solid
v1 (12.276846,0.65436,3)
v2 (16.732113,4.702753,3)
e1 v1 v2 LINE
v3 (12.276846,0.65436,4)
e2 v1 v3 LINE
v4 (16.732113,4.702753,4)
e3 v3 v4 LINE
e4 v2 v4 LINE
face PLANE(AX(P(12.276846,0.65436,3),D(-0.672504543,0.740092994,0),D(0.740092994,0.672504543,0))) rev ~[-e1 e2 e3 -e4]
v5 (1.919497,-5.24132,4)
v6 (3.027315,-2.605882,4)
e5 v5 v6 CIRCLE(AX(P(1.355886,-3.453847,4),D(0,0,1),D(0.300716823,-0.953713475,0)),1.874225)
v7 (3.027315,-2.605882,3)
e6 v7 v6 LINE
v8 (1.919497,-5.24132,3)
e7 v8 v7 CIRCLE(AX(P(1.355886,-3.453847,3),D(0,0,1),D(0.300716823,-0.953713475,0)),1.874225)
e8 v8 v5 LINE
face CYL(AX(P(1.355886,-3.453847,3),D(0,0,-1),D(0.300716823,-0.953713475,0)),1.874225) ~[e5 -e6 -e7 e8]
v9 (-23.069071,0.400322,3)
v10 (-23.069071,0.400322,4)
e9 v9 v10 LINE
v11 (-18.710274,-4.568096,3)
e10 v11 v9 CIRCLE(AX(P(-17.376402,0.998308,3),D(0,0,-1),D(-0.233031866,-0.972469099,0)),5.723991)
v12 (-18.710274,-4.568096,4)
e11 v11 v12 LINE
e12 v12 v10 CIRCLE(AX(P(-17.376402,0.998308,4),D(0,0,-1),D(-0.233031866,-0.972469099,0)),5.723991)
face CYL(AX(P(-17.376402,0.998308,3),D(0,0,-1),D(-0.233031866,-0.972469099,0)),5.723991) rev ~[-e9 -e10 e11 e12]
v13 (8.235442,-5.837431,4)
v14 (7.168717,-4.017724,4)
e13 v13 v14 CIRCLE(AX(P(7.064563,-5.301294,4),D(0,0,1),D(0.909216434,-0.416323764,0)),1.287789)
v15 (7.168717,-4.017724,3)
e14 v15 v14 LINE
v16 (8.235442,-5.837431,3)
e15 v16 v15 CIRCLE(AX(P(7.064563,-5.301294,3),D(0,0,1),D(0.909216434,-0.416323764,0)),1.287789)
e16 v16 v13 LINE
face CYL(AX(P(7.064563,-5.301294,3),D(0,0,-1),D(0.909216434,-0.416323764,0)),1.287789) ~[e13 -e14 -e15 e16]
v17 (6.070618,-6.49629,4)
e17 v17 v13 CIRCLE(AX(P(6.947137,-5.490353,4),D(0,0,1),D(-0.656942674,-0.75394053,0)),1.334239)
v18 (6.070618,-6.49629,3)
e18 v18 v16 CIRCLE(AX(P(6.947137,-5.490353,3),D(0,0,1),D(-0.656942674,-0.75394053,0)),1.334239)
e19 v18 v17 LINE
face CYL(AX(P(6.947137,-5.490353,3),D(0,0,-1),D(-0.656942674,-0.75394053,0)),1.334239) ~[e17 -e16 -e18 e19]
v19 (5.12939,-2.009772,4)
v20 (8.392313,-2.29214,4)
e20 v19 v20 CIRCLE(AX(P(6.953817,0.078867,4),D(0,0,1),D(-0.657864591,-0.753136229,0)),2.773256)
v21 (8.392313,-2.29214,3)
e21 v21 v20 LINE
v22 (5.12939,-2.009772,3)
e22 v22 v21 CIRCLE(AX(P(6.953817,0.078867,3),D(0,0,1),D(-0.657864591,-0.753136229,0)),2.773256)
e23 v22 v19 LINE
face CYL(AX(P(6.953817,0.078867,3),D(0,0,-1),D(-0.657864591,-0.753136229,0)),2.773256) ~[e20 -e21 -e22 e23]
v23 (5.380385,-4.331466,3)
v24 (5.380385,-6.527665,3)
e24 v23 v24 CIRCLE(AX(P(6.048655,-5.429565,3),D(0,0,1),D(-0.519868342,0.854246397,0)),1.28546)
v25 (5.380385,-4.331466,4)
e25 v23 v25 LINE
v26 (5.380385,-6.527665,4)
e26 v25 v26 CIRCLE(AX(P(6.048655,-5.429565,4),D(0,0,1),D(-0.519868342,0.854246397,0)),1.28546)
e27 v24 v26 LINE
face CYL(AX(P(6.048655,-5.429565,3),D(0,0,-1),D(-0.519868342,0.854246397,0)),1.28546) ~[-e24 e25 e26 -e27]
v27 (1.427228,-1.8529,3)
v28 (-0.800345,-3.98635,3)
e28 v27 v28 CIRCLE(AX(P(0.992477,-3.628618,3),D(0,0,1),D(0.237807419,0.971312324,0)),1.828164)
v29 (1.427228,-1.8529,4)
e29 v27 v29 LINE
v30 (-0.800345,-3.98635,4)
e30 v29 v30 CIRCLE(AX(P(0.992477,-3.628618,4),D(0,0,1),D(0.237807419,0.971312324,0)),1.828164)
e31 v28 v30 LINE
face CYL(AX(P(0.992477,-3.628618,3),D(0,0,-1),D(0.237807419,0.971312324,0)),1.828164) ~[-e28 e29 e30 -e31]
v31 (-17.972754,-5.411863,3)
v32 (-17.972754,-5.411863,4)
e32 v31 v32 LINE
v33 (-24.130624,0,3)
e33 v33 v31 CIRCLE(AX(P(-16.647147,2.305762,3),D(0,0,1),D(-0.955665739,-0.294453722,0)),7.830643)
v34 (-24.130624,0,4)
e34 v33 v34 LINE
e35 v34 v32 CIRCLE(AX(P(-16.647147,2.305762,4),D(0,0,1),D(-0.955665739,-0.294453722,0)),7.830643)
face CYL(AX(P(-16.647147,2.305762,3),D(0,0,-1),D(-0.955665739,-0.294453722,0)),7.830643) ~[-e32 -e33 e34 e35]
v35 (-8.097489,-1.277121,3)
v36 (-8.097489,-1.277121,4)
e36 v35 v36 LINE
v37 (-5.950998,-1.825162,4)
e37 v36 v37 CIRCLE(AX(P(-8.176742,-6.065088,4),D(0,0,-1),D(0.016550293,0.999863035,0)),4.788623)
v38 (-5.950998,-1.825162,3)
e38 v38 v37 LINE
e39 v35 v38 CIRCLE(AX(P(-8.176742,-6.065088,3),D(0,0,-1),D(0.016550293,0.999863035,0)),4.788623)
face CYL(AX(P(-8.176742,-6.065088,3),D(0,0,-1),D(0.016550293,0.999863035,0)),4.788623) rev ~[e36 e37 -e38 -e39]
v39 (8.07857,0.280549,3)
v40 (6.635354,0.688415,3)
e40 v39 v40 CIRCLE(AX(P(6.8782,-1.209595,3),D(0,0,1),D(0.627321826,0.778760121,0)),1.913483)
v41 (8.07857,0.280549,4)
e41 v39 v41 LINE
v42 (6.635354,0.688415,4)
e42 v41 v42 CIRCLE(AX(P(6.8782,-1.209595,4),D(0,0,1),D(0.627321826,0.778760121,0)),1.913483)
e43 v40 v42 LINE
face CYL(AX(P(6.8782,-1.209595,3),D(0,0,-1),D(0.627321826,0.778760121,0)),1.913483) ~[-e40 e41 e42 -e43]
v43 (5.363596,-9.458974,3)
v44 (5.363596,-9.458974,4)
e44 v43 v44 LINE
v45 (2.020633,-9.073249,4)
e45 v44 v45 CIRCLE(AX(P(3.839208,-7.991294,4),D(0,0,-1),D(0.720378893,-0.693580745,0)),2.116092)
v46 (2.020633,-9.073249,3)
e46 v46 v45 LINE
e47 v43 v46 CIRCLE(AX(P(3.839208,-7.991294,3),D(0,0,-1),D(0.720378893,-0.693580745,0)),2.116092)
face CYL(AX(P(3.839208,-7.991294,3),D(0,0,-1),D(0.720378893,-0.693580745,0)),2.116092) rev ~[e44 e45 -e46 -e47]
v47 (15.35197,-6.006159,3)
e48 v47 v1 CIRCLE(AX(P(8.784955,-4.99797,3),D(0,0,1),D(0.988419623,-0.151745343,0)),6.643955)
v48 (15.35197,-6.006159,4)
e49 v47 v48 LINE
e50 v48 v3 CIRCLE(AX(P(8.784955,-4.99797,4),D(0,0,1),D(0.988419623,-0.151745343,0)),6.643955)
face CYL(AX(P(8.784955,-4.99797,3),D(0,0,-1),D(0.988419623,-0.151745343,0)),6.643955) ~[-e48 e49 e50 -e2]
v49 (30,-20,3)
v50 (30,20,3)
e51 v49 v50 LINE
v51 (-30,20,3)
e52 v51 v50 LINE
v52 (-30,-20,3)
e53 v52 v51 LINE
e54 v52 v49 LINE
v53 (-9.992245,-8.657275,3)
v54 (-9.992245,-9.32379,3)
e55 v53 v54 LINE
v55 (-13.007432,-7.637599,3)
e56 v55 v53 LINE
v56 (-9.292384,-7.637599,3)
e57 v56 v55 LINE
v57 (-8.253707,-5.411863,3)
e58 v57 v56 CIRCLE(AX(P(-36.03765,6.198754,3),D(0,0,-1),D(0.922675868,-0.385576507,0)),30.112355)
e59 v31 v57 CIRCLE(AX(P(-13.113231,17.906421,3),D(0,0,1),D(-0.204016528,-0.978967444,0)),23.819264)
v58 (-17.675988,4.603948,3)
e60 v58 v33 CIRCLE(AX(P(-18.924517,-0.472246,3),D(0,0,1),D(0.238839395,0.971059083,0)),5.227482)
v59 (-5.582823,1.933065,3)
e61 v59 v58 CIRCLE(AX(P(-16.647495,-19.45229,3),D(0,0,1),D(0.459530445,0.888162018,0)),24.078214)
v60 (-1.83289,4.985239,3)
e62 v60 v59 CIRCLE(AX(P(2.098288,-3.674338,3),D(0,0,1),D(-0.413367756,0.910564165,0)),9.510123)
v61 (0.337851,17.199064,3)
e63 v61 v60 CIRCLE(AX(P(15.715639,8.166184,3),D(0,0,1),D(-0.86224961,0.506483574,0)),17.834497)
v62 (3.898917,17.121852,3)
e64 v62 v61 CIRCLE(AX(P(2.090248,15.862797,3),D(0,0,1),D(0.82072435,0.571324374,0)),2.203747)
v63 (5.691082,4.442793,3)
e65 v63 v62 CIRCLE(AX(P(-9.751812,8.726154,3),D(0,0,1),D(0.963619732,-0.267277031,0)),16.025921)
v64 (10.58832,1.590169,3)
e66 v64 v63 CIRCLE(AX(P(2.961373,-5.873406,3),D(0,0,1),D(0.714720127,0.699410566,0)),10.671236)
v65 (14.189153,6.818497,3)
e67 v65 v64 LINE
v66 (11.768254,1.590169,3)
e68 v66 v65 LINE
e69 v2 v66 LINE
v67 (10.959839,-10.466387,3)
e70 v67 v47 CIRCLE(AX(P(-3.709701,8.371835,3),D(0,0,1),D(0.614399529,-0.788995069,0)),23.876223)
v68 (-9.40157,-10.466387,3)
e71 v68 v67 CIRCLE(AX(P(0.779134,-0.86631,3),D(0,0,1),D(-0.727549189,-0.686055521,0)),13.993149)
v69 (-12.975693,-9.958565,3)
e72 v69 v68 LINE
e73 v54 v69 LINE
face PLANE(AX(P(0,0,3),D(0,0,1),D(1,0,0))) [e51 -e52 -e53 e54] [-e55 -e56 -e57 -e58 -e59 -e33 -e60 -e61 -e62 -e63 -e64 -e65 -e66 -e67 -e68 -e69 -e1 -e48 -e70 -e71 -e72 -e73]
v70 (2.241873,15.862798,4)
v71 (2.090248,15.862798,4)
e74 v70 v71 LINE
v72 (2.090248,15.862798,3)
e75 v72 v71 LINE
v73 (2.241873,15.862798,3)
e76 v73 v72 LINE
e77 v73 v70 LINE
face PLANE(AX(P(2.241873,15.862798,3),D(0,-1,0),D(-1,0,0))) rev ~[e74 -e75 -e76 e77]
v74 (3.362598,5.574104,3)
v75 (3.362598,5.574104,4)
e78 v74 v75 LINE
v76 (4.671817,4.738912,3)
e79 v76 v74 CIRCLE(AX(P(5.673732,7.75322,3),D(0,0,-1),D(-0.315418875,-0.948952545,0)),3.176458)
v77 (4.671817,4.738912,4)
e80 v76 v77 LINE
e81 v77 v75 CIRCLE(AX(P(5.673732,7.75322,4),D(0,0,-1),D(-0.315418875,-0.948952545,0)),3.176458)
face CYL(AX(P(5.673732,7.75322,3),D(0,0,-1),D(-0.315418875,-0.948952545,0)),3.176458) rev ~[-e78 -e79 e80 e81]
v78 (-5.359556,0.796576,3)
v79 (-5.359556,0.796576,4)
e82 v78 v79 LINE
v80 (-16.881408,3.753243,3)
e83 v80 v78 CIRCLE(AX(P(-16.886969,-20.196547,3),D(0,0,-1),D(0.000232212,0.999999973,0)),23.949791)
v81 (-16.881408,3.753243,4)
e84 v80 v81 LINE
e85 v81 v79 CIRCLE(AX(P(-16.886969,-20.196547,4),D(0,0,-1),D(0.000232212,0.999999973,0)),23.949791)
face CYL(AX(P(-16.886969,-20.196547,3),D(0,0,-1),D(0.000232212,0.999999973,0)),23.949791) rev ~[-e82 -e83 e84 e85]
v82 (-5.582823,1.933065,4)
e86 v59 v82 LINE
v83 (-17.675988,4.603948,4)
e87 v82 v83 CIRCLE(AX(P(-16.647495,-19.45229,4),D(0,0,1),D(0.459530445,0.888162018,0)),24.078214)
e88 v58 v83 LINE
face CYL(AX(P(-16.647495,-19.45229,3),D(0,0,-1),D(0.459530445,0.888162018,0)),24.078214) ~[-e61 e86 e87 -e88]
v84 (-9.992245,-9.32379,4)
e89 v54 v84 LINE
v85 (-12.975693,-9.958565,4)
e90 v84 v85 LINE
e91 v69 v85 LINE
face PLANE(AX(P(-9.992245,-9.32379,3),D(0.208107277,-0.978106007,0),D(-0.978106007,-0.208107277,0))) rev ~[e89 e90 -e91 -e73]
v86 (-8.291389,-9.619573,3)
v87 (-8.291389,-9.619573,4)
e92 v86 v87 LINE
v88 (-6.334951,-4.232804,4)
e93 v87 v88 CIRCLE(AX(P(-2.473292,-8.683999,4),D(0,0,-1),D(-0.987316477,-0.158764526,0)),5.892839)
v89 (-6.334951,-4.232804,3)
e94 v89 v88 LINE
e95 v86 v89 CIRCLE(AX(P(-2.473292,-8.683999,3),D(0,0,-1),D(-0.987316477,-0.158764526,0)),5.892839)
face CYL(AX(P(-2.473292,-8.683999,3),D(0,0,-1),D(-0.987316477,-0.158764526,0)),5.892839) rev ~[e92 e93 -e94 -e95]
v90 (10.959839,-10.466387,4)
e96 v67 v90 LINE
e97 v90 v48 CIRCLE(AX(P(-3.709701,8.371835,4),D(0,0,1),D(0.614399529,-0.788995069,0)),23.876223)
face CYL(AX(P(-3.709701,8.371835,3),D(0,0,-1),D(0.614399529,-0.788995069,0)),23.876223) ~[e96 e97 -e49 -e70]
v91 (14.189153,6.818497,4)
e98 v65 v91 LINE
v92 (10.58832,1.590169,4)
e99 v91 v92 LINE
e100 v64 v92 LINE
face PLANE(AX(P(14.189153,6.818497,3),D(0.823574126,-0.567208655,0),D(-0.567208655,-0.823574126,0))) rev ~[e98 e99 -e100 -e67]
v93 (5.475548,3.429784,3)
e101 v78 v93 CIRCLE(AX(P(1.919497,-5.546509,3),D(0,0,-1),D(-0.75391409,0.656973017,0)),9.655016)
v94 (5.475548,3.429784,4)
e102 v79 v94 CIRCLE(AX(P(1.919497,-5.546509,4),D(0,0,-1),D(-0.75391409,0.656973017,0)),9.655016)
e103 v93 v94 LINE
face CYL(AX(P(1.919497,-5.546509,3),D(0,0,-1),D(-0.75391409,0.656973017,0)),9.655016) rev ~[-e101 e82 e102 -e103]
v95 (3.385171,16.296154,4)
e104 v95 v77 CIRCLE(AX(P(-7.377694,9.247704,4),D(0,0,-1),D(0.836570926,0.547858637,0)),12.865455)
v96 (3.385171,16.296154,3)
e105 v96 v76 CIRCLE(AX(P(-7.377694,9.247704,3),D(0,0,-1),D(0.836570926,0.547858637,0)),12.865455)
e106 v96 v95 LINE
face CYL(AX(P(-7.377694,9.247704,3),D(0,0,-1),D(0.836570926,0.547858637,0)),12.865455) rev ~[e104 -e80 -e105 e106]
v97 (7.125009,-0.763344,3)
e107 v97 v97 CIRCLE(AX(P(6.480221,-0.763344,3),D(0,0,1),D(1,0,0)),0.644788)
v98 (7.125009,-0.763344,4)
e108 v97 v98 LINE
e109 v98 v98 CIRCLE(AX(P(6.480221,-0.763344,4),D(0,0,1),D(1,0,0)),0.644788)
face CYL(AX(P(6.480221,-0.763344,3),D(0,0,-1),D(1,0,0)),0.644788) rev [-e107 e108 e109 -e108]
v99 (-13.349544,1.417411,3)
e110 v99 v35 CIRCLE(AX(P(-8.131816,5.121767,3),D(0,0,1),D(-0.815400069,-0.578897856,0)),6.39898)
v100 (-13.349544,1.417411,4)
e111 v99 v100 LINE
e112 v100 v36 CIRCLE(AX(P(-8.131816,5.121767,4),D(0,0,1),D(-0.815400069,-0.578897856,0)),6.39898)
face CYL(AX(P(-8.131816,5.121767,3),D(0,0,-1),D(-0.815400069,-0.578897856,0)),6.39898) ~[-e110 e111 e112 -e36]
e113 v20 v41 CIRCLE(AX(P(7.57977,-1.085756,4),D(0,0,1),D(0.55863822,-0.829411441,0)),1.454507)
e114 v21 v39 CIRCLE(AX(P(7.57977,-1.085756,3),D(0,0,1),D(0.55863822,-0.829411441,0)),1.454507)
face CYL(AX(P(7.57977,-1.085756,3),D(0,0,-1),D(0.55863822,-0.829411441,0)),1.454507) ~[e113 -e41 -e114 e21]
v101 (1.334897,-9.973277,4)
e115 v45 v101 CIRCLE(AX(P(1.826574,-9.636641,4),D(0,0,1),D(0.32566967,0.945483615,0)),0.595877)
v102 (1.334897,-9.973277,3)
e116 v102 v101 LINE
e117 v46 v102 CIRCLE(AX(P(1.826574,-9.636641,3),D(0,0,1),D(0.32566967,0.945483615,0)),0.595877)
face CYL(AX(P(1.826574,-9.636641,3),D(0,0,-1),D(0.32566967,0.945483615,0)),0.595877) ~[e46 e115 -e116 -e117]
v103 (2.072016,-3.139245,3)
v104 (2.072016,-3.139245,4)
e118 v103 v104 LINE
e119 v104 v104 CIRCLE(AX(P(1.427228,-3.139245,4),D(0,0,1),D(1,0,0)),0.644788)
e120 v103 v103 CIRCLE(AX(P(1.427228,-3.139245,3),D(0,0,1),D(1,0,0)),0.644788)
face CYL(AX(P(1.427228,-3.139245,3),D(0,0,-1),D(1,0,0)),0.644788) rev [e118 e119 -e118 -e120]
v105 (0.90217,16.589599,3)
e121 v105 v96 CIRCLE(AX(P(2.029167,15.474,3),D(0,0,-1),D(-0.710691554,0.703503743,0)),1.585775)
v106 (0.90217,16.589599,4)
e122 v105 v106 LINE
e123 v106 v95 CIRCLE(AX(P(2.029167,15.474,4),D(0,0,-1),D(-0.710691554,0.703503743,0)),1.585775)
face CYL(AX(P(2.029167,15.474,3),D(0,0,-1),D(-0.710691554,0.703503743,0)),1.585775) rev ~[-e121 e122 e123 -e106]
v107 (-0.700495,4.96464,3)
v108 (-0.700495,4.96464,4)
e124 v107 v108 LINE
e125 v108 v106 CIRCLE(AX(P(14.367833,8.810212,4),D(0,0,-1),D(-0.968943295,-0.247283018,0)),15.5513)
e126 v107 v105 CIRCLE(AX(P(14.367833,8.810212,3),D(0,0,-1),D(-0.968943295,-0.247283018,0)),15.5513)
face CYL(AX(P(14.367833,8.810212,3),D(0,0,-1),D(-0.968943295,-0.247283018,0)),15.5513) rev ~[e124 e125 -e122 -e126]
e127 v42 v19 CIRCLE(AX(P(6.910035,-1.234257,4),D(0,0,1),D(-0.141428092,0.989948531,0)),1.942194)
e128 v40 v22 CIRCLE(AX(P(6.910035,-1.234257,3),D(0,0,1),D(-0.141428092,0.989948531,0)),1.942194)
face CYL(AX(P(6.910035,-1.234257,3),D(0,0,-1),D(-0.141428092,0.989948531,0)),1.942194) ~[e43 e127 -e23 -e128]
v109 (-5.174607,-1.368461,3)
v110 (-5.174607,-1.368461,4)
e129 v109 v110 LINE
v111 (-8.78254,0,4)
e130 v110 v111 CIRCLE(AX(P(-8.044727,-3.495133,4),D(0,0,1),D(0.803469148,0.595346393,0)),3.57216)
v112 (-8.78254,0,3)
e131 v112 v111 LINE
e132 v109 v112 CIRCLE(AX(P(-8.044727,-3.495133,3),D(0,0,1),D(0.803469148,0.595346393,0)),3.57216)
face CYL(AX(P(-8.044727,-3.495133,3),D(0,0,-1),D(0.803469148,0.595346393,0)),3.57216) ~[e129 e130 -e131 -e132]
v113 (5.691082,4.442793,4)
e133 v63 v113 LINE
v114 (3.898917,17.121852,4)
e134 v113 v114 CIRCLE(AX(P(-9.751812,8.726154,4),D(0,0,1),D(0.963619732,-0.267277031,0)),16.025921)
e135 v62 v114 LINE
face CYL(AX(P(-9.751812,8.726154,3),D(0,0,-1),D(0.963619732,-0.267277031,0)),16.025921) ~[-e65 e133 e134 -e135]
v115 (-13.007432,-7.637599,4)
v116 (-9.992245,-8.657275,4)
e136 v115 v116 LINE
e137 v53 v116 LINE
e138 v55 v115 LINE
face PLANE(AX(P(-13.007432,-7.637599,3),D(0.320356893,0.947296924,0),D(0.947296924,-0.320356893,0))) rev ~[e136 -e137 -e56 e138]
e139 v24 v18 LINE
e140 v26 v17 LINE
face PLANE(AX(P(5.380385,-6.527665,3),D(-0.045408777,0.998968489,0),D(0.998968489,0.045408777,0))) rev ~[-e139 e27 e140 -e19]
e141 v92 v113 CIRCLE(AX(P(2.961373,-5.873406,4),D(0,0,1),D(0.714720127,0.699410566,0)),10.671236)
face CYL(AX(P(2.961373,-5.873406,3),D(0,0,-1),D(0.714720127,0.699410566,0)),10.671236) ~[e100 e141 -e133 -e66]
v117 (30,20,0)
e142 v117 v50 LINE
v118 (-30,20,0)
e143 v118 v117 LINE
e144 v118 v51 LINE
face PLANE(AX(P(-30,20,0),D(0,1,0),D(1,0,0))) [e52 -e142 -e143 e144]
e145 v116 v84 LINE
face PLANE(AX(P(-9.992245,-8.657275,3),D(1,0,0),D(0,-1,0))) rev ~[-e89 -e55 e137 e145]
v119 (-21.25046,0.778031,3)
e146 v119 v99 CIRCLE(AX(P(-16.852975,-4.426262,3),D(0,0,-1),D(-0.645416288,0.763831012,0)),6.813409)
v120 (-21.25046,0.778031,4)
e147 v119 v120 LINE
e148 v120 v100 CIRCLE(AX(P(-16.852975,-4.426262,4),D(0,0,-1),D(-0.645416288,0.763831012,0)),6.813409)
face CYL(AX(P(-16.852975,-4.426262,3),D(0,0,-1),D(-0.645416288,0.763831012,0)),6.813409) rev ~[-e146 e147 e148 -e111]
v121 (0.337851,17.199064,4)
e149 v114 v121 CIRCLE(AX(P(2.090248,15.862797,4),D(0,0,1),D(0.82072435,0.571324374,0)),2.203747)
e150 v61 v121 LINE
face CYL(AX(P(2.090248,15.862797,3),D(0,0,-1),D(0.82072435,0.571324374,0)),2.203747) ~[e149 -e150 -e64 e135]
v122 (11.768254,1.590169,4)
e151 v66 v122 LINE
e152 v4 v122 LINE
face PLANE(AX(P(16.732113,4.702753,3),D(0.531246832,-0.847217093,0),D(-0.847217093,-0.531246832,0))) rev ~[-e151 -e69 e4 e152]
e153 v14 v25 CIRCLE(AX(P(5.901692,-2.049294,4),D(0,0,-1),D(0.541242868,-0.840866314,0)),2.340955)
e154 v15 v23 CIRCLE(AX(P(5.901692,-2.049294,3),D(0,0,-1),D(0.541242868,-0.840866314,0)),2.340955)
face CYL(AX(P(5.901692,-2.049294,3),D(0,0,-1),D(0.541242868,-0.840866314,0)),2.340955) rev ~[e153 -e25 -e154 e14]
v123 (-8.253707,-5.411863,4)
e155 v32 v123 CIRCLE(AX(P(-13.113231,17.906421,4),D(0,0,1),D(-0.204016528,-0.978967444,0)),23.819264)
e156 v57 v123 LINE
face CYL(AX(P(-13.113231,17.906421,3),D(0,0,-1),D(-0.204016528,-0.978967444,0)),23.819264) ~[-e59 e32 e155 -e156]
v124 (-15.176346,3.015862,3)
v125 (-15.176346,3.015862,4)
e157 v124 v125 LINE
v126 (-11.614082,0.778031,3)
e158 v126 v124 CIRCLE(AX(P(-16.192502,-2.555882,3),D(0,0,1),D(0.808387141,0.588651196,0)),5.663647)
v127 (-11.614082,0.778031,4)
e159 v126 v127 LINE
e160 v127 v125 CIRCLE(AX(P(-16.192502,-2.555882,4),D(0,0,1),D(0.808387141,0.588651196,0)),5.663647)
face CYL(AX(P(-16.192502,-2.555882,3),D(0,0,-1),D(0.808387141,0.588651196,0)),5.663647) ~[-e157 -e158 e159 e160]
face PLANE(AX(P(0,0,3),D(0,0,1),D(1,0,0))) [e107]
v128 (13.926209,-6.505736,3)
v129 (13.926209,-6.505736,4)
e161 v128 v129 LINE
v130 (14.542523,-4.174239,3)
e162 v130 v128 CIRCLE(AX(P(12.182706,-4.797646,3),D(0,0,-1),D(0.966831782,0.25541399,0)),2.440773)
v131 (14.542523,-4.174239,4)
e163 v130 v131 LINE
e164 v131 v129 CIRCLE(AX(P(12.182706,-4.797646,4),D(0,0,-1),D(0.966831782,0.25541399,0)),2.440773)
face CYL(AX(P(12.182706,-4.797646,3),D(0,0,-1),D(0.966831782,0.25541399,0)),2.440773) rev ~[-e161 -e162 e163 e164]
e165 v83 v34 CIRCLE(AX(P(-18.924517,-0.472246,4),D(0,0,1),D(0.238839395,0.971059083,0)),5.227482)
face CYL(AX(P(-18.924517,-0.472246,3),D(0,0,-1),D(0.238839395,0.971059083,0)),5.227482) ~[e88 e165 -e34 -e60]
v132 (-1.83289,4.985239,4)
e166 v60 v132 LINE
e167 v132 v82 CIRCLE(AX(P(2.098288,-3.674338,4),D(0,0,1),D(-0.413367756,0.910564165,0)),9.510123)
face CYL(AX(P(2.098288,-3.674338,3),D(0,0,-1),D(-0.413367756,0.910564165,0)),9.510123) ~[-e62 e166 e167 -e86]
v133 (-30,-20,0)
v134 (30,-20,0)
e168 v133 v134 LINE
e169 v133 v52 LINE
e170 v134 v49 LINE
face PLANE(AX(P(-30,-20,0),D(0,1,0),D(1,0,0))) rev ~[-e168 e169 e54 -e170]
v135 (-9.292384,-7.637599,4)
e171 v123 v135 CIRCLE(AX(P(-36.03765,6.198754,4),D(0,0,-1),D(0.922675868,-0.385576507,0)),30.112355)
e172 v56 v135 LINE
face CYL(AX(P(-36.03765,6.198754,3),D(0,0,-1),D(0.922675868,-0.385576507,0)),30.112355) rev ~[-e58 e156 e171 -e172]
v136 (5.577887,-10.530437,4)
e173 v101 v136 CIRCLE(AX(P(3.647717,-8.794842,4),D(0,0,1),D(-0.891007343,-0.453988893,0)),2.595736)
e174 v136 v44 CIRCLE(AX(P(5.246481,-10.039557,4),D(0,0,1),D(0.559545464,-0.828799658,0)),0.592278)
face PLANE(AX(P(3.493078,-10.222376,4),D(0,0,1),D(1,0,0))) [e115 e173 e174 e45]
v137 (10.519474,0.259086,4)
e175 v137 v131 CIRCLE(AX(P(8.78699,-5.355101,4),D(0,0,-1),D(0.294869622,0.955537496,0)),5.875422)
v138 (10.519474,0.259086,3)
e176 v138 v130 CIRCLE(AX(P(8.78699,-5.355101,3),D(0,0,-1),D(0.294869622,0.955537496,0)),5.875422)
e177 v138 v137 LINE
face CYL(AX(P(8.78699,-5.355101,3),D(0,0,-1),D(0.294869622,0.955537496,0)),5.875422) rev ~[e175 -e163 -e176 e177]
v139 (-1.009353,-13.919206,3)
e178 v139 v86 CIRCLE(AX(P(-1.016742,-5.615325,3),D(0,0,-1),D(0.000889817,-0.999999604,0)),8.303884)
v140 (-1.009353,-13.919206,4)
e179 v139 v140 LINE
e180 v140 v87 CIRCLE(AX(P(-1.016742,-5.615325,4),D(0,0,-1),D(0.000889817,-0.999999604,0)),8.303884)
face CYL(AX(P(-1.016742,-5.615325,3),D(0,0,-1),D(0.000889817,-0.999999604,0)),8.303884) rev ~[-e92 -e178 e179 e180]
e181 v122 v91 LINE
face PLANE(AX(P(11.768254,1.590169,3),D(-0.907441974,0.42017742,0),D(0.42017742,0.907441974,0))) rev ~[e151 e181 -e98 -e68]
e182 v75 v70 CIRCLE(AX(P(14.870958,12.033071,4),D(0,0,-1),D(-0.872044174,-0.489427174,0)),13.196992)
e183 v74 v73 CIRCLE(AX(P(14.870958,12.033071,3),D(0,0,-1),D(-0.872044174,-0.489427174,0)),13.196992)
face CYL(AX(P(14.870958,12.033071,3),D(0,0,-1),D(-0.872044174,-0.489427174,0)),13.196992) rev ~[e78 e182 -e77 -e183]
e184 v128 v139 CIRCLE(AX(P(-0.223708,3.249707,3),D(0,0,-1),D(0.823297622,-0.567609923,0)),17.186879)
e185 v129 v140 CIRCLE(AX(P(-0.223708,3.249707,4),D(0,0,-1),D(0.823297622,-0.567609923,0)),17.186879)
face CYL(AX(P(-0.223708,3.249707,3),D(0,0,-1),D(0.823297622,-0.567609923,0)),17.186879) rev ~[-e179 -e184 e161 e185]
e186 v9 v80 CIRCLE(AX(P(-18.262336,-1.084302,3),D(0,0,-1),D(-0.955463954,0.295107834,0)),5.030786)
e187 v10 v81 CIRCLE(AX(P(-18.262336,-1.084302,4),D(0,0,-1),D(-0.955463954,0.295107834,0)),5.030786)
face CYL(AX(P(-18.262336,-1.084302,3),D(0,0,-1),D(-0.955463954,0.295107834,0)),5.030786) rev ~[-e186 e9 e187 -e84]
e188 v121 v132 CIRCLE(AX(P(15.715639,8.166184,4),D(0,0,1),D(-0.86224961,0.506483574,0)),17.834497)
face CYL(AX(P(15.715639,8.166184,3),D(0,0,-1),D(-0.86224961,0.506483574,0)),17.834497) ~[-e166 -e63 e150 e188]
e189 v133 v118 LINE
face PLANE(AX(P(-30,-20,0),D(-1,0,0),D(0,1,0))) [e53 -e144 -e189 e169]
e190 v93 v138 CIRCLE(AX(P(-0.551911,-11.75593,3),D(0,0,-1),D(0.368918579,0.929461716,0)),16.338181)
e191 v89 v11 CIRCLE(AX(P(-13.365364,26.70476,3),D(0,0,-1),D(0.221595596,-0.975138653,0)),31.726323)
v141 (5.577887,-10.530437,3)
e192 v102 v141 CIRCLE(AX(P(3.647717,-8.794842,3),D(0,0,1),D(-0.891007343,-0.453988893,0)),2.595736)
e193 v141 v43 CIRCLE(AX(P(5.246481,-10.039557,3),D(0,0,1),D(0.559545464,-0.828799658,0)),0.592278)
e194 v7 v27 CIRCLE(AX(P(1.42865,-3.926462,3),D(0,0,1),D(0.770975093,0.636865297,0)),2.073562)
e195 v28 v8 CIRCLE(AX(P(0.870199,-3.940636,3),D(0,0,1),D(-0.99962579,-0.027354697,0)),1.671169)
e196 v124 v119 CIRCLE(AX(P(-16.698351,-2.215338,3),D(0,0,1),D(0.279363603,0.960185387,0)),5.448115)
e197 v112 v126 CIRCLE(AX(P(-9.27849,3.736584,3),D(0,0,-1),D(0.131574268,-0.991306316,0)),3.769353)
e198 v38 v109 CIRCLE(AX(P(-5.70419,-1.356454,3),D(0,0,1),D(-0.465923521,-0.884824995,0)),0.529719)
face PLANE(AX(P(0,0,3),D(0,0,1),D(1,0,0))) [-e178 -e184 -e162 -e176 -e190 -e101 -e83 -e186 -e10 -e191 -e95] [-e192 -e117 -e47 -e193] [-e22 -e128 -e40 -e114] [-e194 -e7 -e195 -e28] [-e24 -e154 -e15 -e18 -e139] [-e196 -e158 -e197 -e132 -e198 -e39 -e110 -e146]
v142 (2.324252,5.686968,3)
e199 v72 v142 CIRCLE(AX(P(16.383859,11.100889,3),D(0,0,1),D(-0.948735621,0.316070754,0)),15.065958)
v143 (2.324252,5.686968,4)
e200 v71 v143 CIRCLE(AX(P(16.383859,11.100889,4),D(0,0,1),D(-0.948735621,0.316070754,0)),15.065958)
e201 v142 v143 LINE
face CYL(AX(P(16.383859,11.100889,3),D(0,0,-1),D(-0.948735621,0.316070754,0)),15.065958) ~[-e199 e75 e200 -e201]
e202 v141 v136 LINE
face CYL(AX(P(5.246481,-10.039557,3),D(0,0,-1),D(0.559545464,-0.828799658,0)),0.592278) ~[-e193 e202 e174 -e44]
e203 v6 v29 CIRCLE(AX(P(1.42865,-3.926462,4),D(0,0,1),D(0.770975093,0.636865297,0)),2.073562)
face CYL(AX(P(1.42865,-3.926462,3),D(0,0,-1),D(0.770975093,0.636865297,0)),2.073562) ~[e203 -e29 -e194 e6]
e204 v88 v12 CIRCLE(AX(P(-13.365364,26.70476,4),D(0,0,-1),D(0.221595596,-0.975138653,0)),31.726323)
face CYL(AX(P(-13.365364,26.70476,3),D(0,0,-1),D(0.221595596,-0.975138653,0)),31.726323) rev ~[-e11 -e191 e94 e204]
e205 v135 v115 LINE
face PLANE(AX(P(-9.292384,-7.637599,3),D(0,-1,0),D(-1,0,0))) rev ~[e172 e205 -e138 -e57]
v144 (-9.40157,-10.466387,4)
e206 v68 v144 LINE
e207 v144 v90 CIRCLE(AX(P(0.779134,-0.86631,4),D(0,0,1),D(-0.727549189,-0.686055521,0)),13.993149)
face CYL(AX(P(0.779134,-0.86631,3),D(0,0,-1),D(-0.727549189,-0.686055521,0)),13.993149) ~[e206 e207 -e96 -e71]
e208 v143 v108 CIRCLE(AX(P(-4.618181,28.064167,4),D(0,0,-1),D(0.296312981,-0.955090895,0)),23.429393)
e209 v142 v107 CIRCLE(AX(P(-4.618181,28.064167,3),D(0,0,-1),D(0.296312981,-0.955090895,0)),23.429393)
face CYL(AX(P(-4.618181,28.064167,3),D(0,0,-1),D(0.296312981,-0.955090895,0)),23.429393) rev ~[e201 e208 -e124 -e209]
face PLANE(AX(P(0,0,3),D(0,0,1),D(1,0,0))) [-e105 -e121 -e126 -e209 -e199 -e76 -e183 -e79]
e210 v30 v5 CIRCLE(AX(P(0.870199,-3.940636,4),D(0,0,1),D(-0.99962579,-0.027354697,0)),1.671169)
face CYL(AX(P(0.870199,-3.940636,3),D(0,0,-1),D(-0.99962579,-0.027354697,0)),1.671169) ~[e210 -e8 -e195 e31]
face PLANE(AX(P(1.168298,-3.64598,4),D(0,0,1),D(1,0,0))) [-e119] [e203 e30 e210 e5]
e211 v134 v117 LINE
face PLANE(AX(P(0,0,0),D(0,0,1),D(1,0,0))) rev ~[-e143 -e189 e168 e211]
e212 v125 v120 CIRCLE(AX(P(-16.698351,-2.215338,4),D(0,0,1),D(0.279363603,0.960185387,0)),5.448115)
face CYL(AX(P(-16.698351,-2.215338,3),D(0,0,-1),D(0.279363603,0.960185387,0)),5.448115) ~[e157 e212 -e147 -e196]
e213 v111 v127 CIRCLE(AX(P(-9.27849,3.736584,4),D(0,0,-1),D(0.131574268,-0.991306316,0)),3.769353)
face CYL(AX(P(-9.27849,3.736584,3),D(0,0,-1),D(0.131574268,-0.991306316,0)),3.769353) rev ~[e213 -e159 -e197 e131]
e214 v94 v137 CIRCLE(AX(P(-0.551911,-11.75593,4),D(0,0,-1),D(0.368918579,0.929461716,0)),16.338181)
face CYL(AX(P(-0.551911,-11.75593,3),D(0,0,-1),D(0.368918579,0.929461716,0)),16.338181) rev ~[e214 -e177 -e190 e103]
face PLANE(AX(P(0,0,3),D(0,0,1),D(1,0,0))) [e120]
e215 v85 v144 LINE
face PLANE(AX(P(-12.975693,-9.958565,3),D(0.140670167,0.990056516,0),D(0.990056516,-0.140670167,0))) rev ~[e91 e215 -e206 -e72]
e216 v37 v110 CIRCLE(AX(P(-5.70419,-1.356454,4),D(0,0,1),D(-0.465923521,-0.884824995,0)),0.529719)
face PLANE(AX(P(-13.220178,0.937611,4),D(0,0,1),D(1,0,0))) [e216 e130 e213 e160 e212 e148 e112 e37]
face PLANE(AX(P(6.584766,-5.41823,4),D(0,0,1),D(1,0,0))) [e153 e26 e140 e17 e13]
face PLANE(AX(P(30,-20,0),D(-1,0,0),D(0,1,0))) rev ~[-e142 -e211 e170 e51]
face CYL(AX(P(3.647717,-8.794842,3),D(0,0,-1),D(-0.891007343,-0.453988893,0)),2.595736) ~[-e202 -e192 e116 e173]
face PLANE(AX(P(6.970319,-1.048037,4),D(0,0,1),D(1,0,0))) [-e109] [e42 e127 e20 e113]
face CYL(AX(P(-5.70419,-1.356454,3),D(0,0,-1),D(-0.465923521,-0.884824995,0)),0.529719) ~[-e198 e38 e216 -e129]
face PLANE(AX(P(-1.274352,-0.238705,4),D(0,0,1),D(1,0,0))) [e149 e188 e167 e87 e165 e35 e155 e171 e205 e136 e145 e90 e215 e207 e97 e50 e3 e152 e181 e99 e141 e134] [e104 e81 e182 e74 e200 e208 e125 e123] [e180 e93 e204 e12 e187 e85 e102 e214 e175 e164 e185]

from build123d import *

# Parameters (mm, degrees)
F0_W     = 60
F0_H     = 40
F1_DEPTH = 3
F2_R     = 0.644788
F3_DEPTH = 1


with BuildPart() as f1:
    # F0 (on Top) → F1 (new body)
    with BuildSketch(Plane.XY):
        Rectangle(F0_W, F0_H)
    extrude(amount=F1_DEPTH)

    # F2 (on face) → F3 (join)
    with BuildSketch(Plane.XY.offset(3)):
        with BuildLine():
            ThreePointArc((-1.83289, 4.985239), (-3.905066, 3.701445), (-5.582823, 1.933065))
            ThreePointArc((-5.582823, 1.933065), (-11.454748, 4.059319), (-17.675988, 4.603948))
            ThreePointArc((-17.675988, 4.603948), (-21.960088, 3.783559), (-24.130624, 0))
            ThreePointArc((-24.130624, 0), (-21.816485, -3.576152), (-17.972754, -5.411863))
            ThreePointArc((-17.972754, -5.411863), (-13.11323, -5.912843), (-8.253707, -5.411863))
            ThreePointArc((-8.253707, -5.411863), (-8.750343, -6.535326), (-9.292384, -7.637599))
            Line((-9.292384, -7.637599), (-13.007432, -7.637599))
            Line((-13.007432, -7.637599), (-9.992245, -8.657275))
            Line((-9.992245, -8.657275), (-9.992245, -9.32379))
            Line((-9.992245, -9.32379), (-12.975693, -9.958565))
            Line((-12.975693, -9.958565), (-9.40157, -10.466387))
            ThreePointArc((-9.40157, -10.466387), (0.779134, -14.859459), (10.959839, -10.466387))
            ThreePointArc((10.959839, -10.466387), (13.302708, -8.380835), (15.35197, -6.006159))
            ThreePointArc((15.35197, -6.006159), (14.817038, -2.212991), (12.276846, 0.65436))
            Line((12.276846, 0.65436), (16.732113, 4.702753))
            Line((16.732113, 4.702753), (11.768254, 1.590169))
            Line((11.768254, 1.590169), (14.189153, 6.818497))
            Line((14.189153, 6.818497), (10.58832, 1.590169))
            ThreePointArc((10.58832, 1.590169), (8.332541, 3.347539), (5.691082, 4.442793))
            ThreePointArc((5.691082, 4.442793), (6.116375, 10.969097), (3.898917, 17.121852))
            ThreePointArc((3.898917, 17.121852), (2.138019, 18.066027), (0.337851, 17.199064))
            ThreePointArc((0.337851, 17.199064), (-1.843688, 11.286972), (-1.83289, 4.985239))
        make_face()
        with BuildLine():
            ThreePointArc((-16.881408, 3.753243), (-10.934, 3.001613), (-5.359556, 0.796576))
            ThreePointArc((-5.359556, 0.796576), (-0.360554, 3.835426), (5.475548, 3.429784))
            ThreePointArc((5.475548, 3.429784), (8.143257, 2.076287), (10.519474, 0.259086))
            ThreePointArc((10.519474, 0.259086), (13.137989, -1.406759), (14.542523, -4.174239))
            ThreePointArc((14.542523, -4.174239), (14.542426, -5.421421), (13.926209, -6.505736))
            ThreePointArc((13.926209, -6.505736), (7.417681, -12.145032), (-1.009353, -13.919206))
            ThreePointArc((-1.009353, -13.919206), (-5.238705, -12.765816), (-8.291389, -9.619573))
            ThreePointArc((-8.291389, -9.619573), (-8.012131, -6.67233), (-6.334951, -4.232804))
            ThreePointArc((-6.334951, -4.232804), (-12.5061, -5.009925), (-18.710274, -4.568096))
            ThreePointArc((-18.710274, -4.568096), (-21.679234, -2.77657), (-23.069071, 0.400322))
            ThreePointArc((-23.069071, 0.400322), (-20.659117, 3.338847), (-16.881408, 3.753243))
        make_face(mode=Mode.SUBTRACT)
        with BuildLine():
            ThreePointArc((3.385171, 16.296154), (5.408767, 10.671196), (4.671817, 4.738912))
            ThreePointArc((4.671817, 4.738912), (3.965382, 5.075268), (3.362598, 5.574104))
            ThreePointArc((3.362598, 5.574104), (1.751569, 10.604004), (2.241873, 15.862798))
            Line((2.241873, 15.862798), (2.090248, 15.862798))
            ThreePointArc((2.090248, 15.862798), (1.321883, 10.754523), (2.324252, 5.686968))
            ThreePointArc((2.324252, 5.686968), (0.823876, 5.275564), (-0.700495, 4.96464))
            ThreePointArc((-0.700495, 4.96464), (-1.037753, 10.93409), (0.90217, 16.589599))
            ThreePointArc((0.90217, 16.589599), (2.215281, 17.048816), (3.385171, 16.296154))
        make_face(mode=Mode.SUBTRACT)
        with BuildLine():
            ThreePointArc((3.027315, -2.605882), (2.311567, -2.050264), (1.427228, -1.8529))
            ThreePointArc((1.427228, -1.8529), (-0.272035, -2.308318), (-0.800345, -3.98635))
            ThreePointArc((-0.800345, -3.98635), (0.170039, -5.458062), (1.919497, -5.24132))
            ThreePointArc((1.919497, -5.24132), (3.083669, -4.180128), (3.027315, -2.605882))
        make_face()
        with Locations((1.427228, -3.139245)):
            Circle(F2_R, mode=Mode.SUBTRACT)
        with BuildLine():
            ThreePointArc((8.07857, 0.280549), (7.398587, 0.631767), (6.635354, 0.688415))
            ThreePointArc((6.635354, 0.688415), (5.214115, -0.287698), (5.12939, -2.009772))
            ThreePointArc((5.12939, -2.009772), (6.714717, -2.684062), (8.392313, -2.29214))
            ThreePointArc((8.392313, -2.29214), (9.02358, -0.909681), (8.07857, 0.280549))
        make_face()
        with Locations((6.480221, -0.763344)):
            Circle(F2_R, mode=Mode.SUBTRACT)
        with BuildLine():
            ThreePointArc((7.168717, -4.017724), (6.306207, -4.355034), (5.380385, -4.331466))
            ThreePointArc((5.380385, -4.331466), (4.763195, -5.429565), (5.380385, -6.527665))
            Line((5.380385, -6.527665), (6.070618, -6.49629))
            ThreePointArc((6.070618, -6.49629), (7.335615, -6.766785), (8.235442, -5.837431))
            ThreePointArc((8.235442, -5.837431), (8.175536, -4.650034), (7.168717, -4.017724))
        make_face()
        with BuildLine():
            ThreePointArc((5.363596, -9.458974), (3.596654, -10.093438), (2.020633, -9.073249))
            ThreePointArc((2.020633, -9.073249), (1.352594, -9.275514), (1.334897, -9.973277))
            ThreePointArc((1.334897, -9.973277), (3.309765, -11.368484), (5.577887, -10.530437))
            ThreePointArc((5.577887, -10.530437), (5.827257, -9.923403), (5.363596, -9.458974))
        make_face()
        with BuildLine():
            ThreePointArc((-21.25046, 0.778031), (-17.402552, 2.364946), (-13.349544, 1.417411))
            ThreePointArc((-13.349544, 1.417411), (-11.052781, -0.571642), (-8.097489, -1.277121))
            ThreePointArc((-8.097489, -1.277121), (-6.992115, -1.425307), (-5.950998, -1.825162))
            ThreePointArc((-5.950998, -1.825162), (-5.435611, -1.813036), (-5.174607, -1.368461))
            ThreePointArc((-5.174607, -1.368461), (-6.777898, -0.155153), (-8.78254, 0))
            ThreePointArc((-8.78254, 0), (-10.277191, 0.101942), (-11.614082, 0.778031))
            ThreePointArc((-11.614082, 0.778031), (-13.17973, 2.239961), (-15.176346, 3.015862))
            ThreePointArc((-15.176346, 3.015862), (-18.581793, 2.896863), (-21.25046, 0.778031))
        make_face()
    extrude(amount=F3_DEPTH)


solid = f1.part
